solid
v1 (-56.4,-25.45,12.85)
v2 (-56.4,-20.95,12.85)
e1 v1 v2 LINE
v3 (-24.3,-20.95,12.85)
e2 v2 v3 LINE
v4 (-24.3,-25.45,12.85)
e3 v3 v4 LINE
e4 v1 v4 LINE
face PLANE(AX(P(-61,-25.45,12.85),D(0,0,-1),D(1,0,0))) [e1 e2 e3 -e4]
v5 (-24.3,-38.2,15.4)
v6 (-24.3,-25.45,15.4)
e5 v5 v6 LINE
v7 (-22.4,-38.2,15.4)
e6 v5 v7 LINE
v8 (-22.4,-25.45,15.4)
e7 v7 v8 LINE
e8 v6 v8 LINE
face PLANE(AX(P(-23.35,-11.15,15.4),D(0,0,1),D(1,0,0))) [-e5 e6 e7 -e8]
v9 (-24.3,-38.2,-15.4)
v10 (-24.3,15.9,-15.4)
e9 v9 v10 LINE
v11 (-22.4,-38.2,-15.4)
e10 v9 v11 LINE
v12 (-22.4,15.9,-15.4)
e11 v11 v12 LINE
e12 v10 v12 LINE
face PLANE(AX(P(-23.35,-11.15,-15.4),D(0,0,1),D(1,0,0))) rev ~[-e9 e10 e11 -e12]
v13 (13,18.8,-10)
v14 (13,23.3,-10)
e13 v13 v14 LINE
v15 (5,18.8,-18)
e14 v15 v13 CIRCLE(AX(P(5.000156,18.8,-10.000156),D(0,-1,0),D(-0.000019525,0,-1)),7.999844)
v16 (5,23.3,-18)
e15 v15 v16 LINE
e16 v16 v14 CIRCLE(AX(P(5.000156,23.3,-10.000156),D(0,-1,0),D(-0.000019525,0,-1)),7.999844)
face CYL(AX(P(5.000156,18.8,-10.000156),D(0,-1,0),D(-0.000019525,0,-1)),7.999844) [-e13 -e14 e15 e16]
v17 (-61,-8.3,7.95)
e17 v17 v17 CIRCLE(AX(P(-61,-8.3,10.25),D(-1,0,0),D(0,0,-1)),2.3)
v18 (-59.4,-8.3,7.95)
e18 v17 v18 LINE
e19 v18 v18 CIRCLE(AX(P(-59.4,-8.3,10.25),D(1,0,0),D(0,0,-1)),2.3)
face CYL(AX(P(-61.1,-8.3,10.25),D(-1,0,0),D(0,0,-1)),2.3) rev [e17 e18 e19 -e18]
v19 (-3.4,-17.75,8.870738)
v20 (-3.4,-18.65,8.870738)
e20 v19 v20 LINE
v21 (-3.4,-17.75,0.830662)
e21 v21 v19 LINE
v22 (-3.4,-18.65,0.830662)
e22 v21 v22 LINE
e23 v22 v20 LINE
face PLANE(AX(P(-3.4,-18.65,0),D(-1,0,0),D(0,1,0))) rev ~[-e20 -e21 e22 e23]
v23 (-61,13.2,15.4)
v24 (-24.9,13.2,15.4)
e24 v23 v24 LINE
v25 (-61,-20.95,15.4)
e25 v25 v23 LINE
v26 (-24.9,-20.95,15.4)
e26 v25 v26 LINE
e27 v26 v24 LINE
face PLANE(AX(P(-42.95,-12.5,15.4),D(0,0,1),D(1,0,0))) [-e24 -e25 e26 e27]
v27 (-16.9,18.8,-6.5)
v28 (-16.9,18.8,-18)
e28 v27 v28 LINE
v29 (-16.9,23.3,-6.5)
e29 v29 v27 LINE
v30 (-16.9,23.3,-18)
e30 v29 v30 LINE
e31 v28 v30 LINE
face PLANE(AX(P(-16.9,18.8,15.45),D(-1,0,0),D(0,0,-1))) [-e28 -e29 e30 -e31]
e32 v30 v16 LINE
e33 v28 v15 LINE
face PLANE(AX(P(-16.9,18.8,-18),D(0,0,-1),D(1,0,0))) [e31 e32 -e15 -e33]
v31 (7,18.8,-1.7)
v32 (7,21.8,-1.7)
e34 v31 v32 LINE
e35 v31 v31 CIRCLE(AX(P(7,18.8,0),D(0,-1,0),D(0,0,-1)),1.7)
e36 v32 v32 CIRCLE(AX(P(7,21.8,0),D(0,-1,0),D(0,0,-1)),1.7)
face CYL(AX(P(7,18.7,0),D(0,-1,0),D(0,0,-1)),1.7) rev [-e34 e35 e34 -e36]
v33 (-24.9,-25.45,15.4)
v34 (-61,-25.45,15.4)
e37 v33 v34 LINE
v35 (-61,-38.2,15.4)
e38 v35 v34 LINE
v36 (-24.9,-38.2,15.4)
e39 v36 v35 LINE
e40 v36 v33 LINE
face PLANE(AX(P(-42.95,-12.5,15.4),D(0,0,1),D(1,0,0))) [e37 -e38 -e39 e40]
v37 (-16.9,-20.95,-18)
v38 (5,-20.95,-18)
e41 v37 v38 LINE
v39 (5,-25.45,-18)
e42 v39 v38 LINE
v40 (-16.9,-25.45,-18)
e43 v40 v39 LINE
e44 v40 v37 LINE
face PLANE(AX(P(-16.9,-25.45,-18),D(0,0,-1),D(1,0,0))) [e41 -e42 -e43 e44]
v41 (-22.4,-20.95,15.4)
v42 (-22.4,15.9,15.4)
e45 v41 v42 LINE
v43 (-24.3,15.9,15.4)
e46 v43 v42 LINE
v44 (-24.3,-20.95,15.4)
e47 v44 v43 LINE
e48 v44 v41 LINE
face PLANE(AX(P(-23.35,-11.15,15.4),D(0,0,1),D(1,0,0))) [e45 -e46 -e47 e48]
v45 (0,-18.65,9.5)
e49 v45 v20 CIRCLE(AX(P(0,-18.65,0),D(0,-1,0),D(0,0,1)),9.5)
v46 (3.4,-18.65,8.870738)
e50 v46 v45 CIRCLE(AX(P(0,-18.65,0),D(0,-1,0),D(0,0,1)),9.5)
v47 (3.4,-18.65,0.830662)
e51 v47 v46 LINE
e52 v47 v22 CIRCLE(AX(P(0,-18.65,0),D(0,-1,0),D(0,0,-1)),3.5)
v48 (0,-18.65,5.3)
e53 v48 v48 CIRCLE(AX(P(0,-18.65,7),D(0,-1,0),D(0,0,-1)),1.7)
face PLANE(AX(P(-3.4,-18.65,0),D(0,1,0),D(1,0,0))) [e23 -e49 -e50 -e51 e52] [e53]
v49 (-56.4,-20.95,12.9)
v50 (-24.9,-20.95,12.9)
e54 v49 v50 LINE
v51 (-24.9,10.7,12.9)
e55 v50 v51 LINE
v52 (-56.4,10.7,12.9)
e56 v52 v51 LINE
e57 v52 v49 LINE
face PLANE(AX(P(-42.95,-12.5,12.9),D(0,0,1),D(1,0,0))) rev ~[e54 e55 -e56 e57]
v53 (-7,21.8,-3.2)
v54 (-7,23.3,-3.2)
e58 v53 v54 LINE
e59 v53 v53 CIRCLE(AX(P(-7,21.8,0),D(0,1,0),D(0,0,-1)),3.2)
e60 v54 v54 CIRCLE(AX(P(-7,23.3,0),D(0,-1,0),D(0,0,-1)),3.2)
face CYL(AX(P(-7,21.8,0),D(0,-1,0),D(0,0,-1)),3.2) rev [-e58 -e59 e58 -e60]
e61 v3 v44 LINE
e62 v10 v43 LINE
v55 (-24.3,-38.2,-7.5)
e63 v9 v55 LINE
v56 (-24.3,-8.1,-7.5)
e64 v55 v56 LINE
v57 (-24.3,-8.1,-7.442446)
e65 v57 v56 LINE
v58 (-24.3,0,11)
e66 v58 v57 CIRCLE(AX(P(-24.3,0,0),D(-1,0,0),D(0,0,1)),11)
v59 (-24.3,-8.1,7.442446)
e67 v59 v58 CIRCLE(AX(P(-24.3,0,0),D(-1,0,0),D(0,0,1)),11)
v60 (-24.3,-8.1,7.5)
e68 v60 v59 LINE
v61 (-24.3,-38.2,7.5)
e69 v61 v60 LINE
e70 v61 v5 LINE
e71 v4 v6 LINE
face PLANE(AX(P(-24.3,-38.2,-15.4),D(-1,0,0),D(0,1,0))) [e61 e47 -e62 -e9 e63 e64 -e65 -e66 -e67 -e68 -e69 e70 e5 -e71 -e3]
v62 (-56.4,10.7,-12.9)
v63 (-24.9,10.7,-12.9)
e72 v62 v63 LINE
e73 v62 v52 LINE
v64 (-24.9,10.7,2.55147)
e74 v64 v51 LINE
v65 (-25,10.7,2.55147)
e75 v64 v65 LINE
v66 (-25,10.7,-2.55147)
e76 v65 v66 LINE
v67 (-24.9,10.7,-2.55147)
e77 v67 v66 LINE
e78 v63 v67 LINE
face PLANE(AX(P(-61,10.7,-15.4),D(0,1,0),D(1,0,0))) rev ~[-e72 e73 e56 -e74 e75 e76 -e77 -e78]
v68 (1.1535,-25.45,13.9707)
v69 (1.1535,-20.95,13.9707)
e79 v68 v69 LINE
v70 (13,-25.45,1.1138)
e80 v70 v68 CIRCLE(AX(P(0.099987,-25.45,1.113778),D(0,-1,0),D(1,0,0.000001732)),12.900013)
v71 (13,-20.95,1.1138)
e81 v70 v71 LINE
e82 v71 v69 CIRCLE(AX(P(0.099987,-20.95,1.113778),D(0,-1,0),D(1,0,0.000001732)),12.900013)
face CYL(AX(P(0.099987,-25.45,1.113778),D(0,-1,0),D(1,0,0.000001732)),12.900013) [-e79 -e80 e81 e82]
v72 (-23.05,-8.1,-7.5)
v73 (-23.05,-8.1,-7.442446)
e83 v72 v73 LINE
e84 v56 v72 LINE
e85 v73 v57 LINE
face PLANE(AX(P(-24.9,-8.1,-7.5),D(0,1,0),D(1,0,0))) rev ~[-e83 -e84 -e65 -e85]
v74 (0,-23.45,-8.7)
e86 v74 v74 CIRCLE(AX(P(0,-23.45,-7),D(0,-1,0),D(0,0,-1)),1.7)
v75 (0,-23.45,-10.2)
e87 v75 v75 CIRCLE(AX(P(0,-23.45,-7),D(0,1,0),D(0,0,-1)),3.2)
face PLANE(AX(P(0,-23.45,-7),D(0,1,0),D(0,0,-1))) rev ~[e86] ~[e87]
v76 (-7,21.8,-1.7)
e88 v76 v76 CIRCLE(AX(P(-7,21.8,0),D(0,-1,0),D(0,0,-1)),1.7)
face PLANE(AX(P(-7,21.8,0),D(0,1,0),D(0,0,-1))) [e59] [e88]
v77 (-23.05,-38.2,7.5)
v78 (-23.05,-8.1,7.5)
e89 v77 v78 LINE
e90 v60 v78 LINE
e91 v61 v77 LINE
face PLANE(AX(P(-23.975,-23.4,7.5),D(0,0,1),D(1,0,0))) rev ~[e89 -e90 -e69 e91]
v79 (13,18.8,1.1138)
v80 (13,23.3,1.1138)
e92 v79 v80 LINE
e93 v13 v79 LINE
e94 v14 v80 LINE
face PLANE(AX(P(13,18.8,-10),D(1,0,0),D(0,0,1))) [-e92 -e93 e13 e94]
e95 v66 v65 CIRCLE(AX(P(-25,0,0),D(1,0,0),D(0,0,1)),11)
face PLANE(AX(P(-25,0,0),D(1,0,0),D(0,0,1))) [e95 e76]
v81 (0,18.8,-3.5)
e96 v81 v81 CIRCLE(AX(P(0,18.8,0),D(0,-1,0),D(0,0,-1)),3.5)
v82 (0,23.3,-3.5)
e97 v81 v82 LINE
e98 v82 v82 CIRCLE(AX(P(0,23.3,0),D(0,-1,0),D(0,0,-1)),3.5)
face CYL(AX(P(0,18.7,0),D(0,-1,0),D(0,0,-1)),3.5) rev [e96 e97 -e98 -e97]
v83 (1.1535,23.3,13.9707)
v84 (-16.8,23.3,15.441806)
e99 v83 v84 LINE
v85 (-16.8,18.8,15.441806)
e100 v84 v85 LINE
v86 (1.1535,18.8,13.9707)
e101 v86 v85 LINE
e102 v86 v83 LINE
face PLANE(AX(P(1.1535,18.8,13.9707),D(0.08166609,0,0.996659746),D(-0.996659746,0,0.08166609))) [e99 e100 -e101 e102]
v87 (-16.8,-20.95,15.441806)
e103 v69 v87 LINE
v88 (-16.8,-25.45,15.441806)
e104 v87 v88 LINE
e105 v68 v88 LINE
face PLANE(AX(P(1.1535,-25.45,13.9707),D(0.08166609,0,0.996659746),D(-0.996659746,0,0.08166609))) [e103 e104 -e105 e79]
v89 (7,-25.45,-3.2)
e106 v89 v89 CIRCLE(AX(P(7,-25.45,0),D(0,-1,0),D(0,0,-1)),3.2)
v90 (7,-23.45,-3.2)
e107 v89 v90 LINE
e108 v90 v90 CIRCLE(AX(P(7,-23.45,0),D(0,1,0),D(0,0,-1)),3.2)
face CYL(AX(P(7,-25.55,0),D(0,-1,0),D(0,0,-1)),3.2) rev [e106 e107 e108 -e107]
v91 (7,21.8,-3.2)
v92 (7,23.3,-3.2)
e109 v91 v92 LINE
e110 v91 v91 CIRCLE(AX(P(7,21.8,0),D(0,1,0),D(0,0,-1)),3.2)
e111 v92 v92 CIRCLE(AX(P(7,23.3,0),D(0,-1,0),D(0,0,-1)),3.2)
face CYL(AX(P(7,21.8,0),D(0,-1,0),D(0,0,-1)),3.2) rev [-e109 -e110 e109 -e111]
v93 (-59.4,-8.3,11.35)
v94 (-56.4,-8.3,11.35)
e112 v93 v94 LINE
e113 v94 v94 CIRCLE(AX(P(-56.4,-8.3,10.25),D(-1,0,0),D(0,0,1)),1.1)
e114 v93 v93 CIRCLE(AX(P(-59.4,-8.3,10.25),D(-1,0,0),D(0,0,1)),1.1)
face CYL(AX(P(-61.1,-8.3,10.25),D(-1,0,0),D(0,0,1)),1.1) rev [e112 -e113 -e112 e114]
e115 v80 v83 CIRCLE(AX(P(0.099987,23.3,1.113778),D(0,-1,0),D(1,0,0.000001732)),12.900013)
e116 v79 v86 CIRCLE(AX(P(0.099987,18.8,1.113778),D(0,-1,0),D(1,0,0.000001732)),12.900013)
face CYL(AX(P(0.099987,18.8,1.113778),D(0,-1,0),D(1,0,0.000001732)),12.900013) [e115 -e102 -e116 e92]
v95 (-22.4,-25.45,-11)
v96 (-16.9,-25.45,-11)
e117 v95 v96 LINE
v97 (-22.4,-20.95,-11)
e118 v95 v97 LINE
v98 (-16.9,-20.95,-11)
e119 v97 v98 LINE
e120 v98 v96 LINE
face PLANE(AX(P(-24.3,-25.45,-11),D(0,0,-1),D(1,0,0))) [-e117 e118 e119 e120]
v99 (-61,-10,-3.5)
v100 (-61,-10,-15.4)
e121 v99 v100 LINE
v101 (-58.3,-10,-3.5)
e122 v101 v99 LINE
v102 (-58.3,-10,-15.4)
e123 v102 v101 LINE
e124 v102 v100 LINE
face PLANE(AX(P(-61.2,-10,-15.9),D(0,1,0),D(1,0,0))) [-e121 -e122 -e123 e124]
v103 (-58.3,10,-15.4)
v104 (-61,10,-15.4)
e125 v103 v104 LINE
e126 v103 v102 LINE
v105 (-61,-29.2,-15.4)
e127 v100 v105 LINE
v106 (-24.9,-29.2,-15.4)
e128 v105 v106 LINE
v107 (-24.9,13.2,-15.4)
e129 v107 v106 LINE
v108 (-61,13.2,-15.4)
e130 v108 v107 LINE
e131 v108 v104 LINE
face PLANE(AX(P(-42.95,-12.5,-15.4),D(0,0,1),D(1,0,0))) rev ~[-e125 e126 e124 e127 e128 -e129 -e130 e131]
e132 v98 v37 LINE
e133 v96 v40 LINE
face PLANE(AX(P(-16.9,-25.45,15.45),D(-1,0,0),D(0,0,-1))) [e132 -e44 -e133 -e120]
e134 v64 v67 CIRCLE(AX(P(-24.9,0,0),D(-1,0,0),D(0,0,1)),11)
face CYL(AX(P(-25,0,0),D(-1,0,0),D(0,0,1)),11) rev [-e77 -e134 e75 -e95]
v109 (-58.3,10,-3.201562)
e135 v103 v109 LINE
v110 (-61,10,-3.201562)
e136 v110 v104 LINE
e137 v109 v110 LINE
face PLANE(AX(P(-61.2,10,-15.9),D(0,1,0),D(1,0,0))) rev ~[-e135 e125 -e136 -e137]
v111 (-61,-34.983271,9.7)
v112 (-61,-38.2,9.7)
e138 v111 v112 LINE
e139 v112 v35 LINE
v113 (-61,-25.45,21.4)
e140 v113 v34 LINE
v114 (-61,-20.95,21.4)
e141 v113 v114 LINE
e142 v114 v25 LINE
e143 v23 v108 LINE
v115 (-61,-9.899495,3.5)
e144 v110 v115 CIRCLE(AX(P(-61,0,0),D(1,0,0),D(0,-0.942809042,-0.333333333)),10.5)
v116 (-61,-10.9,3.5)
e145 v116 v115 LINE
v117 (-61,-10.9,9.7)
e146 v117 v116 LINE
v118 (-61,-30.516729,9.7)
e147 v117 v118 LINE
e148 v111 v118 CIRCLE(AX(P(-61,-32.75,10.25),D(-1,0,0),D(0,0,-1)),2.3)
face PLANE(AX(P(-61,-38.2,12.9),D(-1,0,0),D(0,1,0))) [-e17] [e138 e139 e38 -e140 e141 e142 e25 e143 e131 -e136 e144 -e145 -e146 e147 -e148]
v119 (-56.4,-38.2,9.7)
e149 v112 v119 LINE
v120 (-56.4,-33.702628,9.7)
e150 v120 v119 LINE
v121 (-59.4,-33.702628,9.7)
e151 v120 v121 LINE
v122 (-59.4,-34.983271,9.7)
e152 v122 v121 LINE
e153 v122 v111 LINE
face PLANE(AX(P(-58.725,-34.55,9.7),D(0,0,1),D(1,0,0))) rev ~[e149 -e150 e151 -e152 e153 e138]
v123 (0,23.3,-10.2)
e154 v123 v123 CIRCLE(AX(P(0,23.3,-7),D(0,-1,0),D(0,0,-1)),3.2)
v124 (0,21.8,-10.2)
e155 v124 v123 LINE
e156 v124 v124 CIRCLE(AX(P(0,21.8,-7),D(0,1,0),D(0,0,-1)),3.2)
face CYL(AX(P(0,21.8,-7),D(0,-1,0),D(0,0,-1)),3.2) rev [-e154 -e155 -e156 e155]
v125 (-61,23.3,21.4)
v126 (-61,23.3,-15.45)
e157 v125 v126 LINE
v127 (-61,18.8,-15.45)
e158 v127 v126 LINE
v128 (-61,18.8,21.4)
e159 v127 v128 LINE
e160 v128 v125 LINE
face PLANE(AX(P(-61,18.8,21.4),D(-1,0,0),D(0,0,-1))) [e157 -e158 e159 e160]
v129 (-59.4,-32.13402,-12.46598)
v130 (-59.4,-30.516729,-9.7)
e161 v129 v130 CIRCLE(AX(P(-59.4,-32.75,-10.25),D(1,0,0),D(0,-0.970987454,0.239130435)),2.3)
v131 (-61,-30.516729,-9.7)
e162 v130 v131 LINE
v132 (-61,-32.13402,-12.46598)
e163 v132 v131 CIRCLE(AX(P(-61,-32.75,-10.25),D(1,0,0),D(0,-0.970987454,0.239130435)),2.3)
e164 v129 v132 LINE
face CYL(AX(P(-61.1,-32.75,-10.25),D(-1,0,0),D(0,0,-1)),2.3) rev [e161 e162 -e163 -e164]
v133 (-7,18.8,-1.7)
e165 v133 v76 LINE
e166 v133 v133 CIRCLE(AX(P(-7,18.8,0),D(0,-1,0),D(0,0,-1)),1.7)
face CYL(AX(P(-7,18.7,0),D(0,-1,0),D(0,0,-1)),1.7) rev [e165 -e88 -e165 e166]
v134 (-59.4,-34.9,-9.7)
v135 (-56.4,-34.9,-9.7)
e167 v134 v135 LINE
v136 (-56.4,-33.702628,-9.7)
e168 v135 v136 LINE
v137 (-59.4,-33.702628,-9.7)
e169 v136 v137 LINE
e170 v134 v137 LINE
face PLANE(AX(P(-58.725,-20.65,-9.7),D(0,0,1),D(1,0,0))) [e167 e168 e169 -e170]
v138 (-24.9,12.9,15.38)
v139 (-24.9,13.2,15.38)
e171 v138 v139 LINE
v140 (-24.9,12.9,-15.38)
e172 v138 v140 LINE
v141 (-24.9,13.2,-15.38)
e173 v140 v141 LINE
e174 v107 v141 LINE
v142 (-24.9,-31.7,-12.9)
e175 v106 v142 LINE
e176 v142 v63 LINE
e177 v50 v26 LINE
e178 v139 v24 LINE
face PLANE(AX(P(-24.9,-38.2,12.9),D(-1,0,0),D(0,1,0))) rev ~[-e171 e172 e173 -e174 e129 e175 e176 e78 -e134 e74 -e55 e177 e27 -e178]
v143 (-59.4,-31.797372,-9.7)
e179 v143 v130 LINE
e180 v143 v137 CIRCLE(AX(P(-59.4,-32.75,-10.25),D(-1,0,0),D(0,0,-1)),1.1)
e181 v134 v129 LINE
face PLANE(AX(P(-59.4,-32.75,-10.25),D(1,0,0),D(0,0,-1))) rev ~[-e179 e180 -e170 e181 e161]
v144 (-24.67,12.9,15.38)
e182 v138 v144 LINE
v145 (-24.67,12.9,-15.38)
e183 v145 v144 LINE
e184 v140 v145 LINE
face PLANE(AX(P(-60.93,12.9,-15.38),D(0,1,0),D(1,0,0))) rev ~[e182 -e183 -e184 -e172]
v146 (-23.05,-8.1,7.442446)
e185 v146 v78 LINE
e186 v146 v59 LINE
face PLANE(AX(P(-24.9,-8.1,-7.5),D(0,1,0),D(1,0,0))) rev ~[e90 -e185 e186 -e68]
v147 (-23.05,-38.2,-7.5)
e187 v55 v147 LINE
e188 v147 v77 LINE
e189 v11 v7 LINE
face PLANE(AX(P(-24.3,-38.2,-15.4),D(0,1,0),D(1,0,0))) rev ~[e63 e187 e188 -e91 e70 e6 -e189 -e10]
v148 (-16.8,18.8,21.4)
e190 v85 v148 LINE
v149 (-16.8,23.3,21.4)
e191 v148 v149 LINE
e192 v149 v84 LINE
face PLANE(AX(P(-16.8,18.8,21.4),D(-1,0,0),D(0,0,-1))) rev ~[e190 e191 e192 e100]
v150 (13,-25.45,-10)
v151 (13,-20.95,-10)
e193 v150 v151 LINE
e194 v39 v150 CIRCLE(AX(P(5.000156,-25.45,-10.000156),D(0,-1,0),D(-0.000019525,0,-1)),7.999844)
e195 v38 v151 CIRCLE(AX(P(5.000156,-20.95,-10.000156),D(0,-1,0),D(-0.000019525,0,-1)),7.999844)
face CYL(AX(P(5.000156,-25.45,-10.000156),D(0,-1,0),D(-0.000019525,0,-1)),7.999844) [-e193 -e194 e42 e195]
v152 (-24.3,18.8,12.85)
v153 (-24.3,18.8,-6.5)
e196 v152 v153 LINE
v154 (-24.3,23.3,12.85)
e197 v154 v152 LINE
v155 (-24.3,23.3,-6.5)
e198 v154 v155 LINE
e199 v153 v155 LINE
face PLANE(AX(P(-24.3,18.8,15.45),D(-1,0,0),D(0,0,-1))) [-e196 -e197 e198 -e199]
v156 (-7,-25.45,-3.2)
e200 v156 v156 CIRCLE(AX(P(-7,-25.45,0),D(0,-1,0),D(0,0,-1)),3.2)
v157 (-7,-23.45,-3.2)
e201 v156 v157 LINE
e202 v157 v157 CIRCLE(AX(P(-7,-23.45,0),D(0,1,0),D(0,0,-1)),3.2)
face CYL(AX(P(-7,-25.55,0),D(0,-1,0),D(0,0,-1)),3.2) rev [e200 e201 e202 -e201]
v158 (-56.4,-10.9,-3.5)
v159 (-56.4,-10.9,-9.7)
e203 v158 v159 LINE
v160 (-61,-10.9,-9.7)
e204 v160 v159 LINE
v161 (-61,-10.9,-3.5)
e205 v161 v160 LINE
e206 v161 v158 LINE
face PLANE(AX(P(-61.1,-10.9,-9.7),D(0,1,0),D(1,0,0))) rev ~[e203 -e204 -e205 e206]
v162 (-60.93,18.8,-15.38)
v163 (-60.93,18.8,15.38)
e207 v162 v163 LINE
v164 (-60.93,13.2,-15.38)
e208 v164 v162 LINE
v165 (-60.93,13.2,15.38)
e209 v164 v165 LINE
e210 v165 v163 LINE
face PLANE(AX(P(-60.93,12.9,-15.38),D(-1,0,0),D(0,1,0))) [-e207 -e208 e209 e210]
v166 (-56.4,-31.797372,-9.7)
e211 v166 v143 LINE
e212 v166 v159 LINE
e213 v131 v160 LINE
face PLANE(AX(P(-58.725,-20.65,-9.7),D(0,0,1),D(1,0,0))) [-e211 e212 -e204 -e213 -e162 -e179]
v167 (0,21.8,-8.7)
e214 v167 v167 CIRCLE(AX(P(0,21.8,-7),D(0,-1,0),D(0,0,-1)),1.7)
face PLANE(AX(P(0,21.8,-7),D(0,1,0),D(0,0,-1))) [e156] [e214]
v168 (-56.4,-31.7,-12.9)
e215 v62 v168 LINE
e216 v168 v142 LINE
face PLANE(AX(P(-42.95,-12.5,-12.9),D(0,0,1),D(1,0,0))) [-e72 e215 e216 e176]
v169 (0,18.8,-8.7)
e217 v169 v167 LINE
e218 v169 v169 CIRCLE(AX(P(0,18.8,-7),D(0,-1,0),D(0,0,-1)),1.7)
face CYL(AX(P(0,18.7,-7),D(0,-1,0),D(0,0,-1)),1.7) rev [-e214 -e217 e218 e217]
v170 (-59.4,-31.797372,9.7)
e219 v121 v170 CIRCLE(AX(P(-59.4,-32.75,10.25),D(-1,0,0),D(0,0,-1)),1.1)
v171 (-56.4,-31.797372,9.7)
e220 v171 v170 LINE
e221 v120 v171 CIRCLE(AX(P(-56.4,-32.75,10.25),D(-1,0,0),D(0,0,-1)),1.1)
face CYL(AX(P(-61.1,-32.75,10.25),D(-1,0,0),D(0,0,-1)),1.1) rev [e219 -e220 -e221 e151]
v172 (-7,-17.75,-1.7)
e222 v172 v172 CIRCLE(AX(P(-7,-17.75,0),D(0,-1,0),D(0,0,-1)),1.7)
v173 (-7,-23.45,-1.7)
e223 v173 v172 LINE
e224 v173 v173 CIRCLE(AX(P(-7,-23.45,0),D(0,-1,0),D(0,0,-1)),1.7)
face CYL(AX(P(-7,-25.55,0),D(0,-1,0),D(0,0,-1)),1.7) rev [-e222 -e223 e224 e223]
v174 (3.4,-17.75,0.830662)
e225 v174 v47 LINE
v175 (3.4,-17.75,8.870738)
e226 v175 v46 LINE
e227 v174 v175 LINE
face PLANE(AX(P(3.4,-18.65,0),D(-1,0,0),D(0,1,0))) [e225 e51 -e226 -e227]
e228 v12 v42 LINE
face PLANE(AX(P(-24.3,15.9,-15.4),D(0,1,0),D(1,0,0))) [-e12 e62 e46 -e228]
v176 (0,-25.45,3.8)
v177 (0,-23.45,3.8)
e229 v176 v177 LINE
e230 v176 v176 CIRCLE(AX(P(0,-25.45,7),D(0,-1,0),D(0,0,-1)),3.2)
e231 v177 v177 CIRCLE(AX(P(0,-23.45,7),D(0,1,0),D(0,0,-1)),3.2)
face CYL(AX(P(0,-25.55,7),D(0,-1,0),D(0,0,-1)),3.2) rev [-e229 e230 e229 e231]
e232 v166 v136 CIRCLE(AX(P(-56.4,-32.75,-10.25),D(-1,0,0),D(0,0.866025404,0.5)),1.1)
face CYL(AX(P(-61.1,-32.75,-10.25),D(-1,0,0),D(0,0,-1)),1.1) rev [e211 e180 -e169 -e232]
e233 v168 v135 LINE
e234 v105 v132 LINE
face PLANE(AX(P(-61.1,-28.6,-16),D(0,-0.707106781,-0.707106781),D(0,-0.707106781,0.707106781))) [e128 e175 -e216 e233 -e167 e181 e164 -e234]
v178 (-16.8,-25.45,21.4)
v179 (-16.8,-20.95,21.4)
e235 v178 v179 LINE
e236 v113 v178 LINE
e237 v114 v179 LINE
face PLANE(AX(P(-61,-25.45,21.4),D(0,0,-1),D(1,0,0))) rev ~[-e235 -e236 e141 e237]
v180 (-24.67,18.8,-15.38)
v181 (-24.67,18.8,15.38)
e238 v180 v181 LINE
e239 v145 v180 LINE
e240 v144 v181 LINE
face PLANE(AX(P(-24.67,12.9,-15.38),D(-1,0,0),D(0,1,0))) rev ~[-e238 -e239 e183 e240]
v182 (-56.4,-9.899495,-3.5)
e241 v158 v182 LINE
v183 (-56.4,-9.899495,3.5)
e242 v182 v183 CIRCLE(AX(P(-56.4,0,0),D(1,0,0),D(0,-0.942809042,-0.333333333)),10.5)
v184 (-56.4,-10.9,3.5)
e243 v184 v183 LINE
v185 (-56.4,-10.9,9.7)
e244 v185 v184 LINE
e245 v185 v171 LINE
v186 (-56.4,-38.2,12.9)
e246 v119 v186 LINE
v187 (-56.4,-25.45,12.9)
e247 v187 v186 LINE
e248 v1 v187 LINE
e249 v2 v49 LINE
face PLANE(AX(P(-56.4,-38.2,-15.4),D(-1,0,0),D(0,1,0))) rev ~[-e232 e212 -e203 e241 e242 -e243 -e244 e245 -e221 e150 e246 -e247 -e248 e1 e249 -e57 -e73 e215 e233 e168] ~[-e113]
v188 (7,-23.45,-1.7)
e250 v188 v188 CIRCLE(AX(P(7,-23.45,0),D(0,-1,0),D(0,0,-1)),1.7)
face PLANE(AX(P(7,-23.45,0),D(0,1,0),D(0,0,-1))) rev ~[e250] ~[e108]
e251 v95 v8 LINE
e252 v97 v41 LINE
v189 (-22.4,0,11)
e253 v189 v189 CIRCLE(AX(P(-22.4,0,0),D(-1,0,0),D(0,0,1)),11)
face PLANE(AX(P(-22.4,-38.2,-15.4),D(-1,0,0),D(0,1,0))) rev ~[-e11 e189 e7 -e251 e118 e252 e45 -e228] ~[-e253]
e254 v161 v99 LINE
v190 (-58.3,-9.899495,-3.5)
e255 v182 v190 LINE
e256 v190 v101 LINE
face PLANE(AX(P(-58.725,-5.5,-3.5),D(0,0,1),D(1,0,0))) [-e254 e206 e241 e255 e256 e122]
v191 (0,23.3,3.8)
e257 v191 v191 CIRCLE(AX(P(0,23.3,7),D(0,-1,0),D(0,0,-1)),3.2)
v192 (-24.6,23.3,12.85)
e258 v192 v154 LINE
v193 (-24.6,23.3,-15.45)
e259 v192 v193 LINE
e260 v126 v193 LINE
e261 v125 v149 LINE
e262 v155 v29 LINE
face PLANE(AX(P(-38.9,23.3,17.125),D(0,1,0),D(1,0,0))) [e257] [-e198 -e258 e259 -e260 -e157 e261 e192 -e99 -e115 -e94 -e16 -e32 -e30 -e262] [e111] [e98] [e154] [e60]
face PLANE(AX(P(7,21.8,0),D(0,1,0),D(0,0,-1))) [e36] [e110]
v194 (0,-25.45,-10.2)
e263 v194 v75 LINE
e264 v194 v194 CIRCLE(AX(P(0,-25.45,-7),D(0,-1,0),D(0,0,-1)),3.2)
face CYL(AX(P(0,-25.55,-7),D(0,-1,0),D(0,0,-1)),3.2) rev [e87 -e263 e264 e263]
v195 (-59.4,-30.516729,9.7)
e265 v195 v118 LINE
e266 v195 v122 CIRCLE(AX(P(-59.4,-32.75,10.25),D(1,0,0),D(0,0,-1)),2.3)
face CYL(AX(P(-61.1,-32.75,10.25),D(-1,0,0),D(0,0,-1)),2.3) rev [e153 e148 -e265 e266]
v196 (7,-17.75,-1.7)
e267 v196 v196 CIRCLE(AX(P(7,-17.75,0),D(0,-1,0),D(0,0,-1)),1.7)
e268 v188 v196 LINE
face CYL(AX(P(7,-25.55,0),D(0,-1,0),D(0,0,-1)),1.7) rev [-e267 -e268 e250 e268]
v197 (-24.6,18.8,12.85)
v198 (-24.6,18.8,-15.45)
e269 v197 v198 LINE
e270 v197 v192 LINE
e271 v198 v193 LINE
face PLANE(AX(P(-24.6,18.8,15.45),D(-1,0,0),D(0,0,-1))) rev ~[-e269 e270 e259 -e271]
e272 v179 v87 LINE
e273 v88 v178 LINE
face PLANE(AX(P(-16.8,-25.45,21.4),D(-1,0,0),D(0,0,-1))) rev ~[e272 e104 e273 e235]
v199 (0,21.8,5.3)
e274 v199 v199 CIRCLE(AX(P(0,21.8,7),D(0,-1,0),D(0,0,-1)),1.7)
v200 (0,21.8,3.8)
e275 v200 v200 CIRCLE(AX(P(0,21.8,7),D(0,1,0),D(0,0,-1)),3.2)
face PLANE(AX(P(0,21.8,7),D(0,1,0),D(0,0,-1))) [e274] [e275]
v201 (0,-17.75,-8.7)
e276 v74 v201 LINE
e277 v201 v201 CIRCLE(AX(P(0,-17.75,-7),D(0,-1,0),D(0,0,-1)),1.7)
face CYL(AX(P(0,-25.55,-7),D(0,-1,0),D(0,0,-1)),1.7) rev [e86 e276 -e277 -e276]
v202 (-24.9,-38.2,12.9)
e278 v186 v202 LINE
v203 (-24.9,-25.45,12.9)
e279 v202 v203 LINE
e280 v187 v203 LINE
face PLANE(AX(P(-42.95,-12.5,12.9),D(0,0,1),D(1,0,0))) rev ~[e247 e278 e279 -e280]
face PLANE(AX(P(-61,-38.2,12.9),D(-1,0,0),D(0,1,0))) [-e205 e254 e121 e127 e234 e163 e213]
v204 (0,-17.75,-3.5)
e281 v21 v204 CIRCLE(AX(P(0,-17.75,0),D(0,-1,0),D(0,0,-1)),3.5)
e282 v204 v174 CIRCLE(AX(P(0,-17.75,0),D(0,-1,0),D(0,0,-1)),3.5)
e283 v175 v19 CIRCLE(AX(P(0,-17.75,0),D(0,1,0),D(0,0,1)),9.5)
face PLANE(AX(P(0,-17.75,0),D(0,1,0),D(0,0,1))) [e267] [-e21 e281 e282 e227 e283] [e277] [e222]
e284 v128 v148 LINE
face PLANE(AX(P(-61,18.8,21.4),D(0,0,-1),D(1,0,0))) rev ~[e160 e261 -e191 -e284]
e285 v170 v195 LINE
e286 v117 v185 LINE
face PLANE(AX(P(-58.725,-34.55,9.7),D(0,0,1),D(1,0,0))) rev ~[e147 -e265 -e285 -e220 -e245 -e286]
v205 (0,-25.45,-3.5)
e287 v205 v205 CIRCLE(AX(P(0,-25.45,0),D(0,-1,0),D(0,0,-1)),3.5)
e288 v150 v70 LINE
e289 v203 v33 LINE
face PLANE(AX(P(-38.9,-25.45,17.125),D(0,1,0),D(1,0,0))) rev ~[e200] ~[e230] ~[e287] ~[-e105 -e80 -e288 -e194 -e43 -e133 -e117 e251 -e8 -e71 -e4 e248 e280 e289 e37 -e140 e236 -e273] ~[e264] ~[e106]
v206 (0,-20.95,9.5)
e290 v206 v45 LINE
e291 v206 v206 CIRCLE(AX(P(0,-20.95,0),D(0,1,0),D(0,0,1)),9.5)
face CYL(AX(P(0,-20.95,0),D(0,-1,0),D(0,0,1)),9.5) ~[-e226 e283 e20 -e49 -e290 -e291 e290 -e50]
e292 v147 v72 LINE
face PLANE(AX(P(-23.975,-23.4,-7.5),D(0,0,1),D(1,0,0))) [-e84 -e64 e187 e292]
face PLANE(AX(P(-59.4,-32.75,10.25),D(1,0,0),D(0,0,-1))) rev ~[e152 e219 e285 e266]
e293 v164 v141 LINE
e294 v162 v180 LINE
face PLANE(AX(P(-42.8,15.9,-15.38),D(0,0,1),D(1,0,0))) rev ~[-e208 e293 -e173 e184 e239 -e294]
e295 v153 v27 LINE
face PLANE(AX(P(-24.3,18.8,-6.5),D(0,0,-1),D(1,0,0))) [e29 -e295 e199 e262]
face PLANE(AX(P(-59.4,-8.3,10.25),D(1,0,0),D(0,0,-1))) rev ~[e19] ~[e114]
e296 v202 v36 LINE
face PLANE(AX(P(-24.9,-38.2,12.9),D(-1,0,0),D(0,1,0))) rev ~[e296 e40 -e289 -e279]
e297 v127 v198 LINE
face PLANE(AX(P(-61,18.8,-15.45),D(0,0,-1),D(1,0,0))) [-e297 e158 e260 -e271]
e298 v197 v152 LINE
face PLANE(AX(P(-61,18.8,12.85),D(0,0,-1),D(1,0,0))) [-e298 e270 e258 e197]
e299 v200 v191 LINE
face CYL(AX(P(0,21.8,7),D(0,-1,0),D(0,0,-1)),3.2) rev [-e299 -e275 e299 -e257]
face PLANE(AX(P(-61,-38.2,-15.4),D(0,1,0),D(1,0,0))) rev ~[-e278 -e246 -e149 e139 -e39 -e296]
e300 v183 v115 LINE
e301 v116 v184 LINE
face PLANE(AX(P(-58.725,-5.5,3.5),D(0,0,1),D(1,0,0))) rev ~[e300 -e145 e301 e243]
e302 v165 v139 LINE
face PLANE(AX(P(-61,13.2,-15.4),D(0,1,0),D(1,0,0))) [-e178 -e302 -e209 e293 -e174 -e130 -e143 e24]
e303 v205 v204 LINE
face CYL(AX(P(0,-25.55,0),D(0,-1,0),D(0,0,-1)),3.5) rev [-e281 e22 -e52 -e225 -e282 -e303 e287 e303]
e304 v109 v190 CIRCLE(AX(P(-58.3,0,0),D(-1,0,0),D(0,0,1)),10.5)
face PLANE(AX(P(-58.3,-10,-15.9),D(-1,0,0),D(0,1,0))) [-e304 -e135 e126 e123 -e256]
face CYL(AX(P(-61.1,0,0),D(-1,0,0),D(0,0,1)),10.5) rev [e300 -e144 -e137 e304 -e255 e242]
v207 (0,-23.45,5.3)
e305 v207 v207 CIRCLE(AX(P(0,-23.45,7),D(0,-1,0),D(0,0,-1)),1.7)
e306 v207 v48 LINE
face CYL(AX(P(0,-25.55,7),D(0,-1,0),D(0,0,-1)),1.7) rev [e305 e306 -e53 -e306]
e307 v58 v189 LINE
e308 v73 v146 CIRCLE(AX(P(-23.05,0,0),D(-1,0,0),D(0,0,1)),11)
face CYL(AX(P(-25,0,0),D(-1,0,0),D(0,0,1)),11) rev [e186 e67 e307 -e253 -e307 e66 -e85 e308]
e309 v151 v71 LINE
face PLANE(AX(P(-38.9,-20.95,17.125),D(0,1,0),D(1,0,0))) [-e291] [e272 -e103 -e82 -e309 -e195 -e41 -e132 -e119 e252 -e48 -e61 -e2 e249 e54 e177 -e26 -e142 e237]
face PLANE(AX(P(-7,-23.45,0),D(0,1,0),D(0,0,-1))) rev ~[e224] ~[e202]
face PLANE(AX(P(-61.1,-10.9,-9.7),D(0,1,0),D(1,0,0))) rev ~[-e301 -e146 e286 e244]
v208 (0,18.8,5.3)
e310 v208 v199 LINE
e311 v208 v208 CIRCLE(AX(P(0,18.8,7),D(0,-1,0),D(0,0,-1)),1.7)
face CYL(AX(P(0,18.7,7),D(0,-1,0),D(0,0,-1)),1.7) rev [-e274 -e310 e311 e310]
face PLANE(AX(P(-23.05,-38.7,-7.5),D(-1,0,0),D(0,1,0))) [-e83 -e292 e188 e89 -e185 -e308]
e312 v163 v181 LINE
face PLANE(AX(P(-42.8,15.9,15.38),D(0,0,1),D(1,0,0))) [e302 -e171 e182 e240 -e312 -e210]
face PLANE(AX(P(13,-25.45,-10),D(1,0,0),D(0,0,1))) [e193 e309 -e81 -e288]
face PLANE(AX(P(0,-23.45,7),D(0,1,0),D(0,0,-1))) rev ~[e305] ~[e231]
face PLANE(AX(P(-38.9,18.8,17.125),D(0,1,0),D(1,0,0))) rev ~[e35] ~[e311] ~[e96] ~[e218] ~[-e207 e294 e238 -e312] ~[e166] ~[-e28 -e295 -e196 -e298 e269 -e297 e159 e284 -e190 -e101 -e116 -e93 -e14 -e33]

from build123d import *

# Parameters (mm, degrees)
BOSS_1_DEPTH    = 4.5
S_CYL2_R        = 9.5
BOSS_2_DEPTH    = 3.2
BOSS_3_DEPTH    = 4.5
S_PRISM4_W      = 7.5
S_PRISM4_H      = 21.95
BOSS_4_DEPTH    = 4.5
S_PRISM5_W      = 44.2
S_PRISM5_H      = 8.55
BOSS_5_DEPTH    = 4.5
S_PRISM6_W      = 36.4
S_PRISM6_H      = 30.9
BOSS_6_DEPTH    = 4.5
S_PRISM7_W      = 7.5
S_PRISM7_H      = 26.45
BOSS_7_DEPTH    = 4.5
S_PRISM8_W      = 44.2
S_PRISM8_H      = 8.55
BOSS_8_DEPTH    = 4.5
S_BOX9_W        = 36.1
S_BOX9_H        = 2.5
BOSS_9_DEPTH    = 30.8
S_BOX10_W       = 36.1
S_BOX10_H       = 51.4
BOSS_10_DEPTH   = 2.5
S_BOX11_W       = 36.1
S_BOX11_H       = 51.4
BOSS_11_DEPTH   = 2.5
S_BOX12_W       = 4.6
S_BOX12_H       = 51.4
BOSS_12_DEPTH   = 30.8
S_BOX13_W       = 1.9
S_BOX13_H       = 54.1
BOSS_13_DEPTH   = 30.8
S_BOX14_W       = 36.26
S_BOX14_H       = 6
BOSS_14_DEPTH   = 30.76
S_HOLE15_R      = 3.5
HOLE_15_DEPTH   = 4.7
S_HOLE16_R      = 1.7
HOLE_16_DEPTH   = 4.7
S_HOLE17_R      = 1.7
HOLE_17_DEPTH   = 4.7
S_HOLE18_R      = 1.7
HOLE_18_DEPTH   = 4.7
S_HOLE19_R      = 1.7
HOLE_19_DEPTH   = 4.7
S_HOLE20_R      = 3.2
HOLE_20_DEPTH   = 1.6
S_HOLE21_R      = 3.2
HOLE_21_DEPTH   = 1.6
S_HOLE22_R      = 3.2
HOLE_22_DEPTH   = 1.6
S_HOLE23_R      = 3.2
HOLE_23_DEPTH   = 1.6
S_HOLE24_R      = 3.5
HOLE_24_DEPTH   = 7.9
S_HOLE25_R      = 1.7
HOLE_25_DEPTH   = 7.9
S_HOLE26_R      = 1.7
HOLE_26_DEPTH   = 7.9
S_HOLE27_R      = 1.7
HOLE_27_DEPTH   = 7.9
S_HOLE28_R      = 1.7
HOLE_28_DEPTH   = 7.9
S_HOLE29_R      = 3.2
HOLE_29_DEPTH   = 2.1
S_HOLE30_R      = 3.2
HOLE_30_DEPTH   = 2.1
S_HOLE31_R      = 3.2
HOLE_31_DEPTH   = 2.1
S_HOLE32_R      = 3.2
HOLE_32_DEPTH   = 2.1
S_CUT33_W       = 6.8
S_CUT33_H       = 1
POCKET_33_DEPTH = 10
S_HOLE34_R      = 10.5
HOLE_34_DEPTH   = 4.8
S_CUT35_W       = 4.75
S_CUT35_H       = 19.5
POCKET_35_DEPTH = 19.4
S_CUT36_W       = 4.75
S_CUT36_H       = 8.3
POCKET_36_DEPTH = 19.4
S_CUT37_W       = 4.75
S_CUT37_H       = 11
POCKET_37_DEPTH = 7
S_CUT38_W       = 2.9
S_CUT38_H       = 20
POCKET_38_DEPTH = 15.9
S_HOLE39_R      = 1.1
HOLE_39_DEPTH   = 4.8
S_HOLE40_R      = 2.3
HOLE_40_DEPTH   = 1.7
S_HOLE41_R      = 1.1
HOLE_41_DEPTH   = 4.8
S_HOLE42_R      = 2.3
HOLE_42_DEPTH   = 1.7
S_HOLE43_R      = 1.1
HOLE_43_DEPTH   = 4.8
S_HOLE44_R      = 2.3
HOLE_44_DEPTH   = 1.7
S_HOLE45_R      = 11
HOLE_45_DEPTH   = 2.7
S_CUT46_W       = 1.85
S_CUT46_H       = 30.6
POCKET_46_DEPTH = 15
CUT_47_DEPTH    = 36.3


with BuildPart() as part:
    # S_prism1 → Boss_1 (new body)
    with BuildSketch(Plane(origin=(0, 18.8, 0), x_dir=(1, 0, 0), z_dir=(0, 1, 0))):
        with BuildLine():
            Line((13, 10), (13, -1.1138))
            ThreePointArc((13, -1.1138), (9.586829994, -9.855067448), (1.1535, -13.9707))
            Line((1.1535, -13.9707), (-16.9, -15.45))
            Line((-16.9, -15.45), (-16.9, 18))
            Line((-16.9, 18), (5, 18))
            ThreePointArc((5, 18), (10.6569, 15.6569), (13, 10))
        make_face()
    extrude(amount=BOSS_1_DEPTH)

    # S_prism4 → Boss_4 (add)
    with BuildSketch(Plane(origin=(0, 18.8, 0), x_dir=(1, 0, 0), z_dir=(0, 1, 0))):
        with Locations((-20.55, -4.475)):
            Rectangle(S_PRISM4_W, S_PRISM4_H)
    extrude(amount=BOSS_4_DEPTH)

    # S_prism5 → Boss_5 (add)
    with BuildSketch(Plane(origin=(0, 18.8, 0), x_dir=(1, 0, 0), z_dir=(0, 1, 0))):
        with Locations((-38.9, -17.125)):
            Rectangle(S_PRISM5_W, S_PRISM5_H)
    extrude(amount=BOSS_5_DEPTH)

    # S_prism6 → Boss_6 (add)
    with BuildSketch(Plane(origin=(0, 18.8, 0), x_dir=(1, 0, 0), z_dir=(0, 1, 0))):
        with Locations((-42.8, 0)):
            Rectangle(S_PRISM6_W, S_PRISM6_H)
    extrude(amount=BOSS_6_DEPTH)



with BuildPart() as body_2:
    # S_cyl2 → Boss_2 (new body)
    with BuildSketch(Plane(origin=(0, -20.95, 0), x_dir=(1, 0, 0), z_dir=(0, 1, 0))):
        with Locations(Location((0, 0, 0), (0, 0, 270))):
            Circle(S_CYL2_R)
    extrude(amount=BOSS_2_DEPTH)

    # S_prism3 → Boss_3 (add)
    with BuildSketch(Plane(origin=(0, -25.45, 0), x_dir=(1, 0, 0), z_dir=(0, 1, 0))):
        with BuildLine():
            Line((13, 10), (13, -1.1138))
            ThreePointArc((13, -1.1138), (9.586829994, -9.855067448), (1.1535, -13.9707))
            Line((1.1535, -13.9707), (-16.9, -15.45))
            Line((-16.9, -15.45), (-16.9, 18))
            Line((-16.9, 18), (5, 18))
            ThreePointArc((5, 18), (10.6569, 15.6569), (13, 10))
        make_face()
    extrude(amount=BOSS_3_DEPTH)

    # S_prism7 → Boss_7 (add)
    with BuildSketch(Plane(origin=(0, -25.45, 0), x_dir=(1, 0, 0), z_dir=(0, 1, 0))):
        with Locations((-20.55, -2.225)):
            Rectangle(S_PRISM7_W, S_PRISM7_H)
    extrude(amount=BOSS_7_DEPTH)

    # S_prism8 → Boss_8 (add)
    with BuildSketch(Plane(origin=(0, -25.45, 0), x_dir=(1, 0, 0), z_dir=(0, 1, 0))):
        with Locations((-38.9, -17.125)):
            Rectangle(S_PRISM8_W, S_PRISM8_H)
    extrude(amount=BOSS_8_DEPTH)



with BuildPart() as body_3:
    # S_box9 → Boss_9 (new body)
    with BuildSketch(Plane.XY.offset(-15.4)):
        with Locations((-42.95, 11.95)):
            Rectangle(S_BOX9_W, S_BOX9_H)
    extrude(amount=BOSS_9_DEPTH)

    # S_box10 → Boss_10 (add)
    with BuildSketch(Plane.XY.offset(-15.4)):
        with Locations((-42.95, -12.5)):
            Rectangle(S_BOX10_W, S_BOX10_H)
    extrude(amount=BOSS_10_DEPTH)


with BuildPart() as body_2_1:
    add(body_2.part)

    add(body_3.part)  # Boss_11 merges body 3
    # S_box11 → Boss_11 (add)
    with BuildSketch(Plane.XY.offset(12.9)):
        with Locations((-42.95, -12.5)):
            Rectangle(S_BOX11_W, S_BOX11_H)
    extrude(amount=BOSS_11_DEPTH)

    # S_box12 → Boss_12 (add)
    with BuildSketch(Plane.XY.offset(-15.4)):
        with Locations((-58.7, -12.5)):
            Rectangle(S_BOX12_W, S_BOX12_H)
    extrude(amount=BOSS_12_DEPTH)

    # S_box13 → Boss_13 (add)
    with BuildSketch(Plane.XY.offset(-15.4)):
        with Locations((-23.35, -11.15)):
            Rectangle(S_BOX13_W, S_BOX13_H)
    extrude(amount=BOSS_13_DEPTH)


with BuildPart() as part_1:
    add(part.part)

    add(body_2_1.part)  # Boss_14 merges body 2
    # S_box14 → Boss_14 (add)
    with BuildSketch(Plane.XY.offset(-15.38)):
        with Locations((-42.8, 15.9)):
            Rectangle(S_BOX14_W, S_BOX14_H)
    extrude(amount=BOSS_14_DEPTH)

    # S_hole15 → Hole_15 (cut)
    with BuildSketch(Plane(origin=(0, 18.7, 0), x_dir=(1, 0, 0), z_dir=(0, 1, 0))):
        with Locations(Location((0, 0, 0), (0, 0, 90))):
            Circle(S_HOLE15_R)
    extrude(amount=HOLE_15_DEPTH, mode=Mode.SUBTRACT)

    # S_hole16 → Hole_16 (cut)
    with BuildSketch(Plane(origin=(0, 18.7, 0), x_dir=(1, 0, 0), z_dir=(0, 1, 0))):
        with Locations(Location((7, 0, 0), (0, 0, 90))):
            Circle(S_HOLE16_R)
    extrude(amount=HOLE_16_DEPTH, mode=Mode.SUBTRACT)

    # S_hole17 → Hole_17 (cut)
    with BuildSketch(Plane(origin=(0, 18.7, 0), x_dir=(1, 0, 0), z_dir=(0, 1, 0))):
        with Locations(Location((0, -7, 0), (0, 0, 90))):
            Circle(S_HOLE17_R)
    extrude(amount=HOLE_17_DEPTH, mode=Mode.SUBTRACT)

    # S_hole18 → Hole_18 (cut)
    with BuildSketch(Plane(origin=(0, 18.7, 0), x_dir=(1, 0, 0), z_dir=(0, 1, 0))):
        with Locations(Location((-7, 0, 0), (0, 0, 90))):
            Circle(S_HOLE18_R)
    extrude(amount=HOLE_18_DEPTH, mode=Mode.SUBTRACT)

    # S_hole19 → Hole_19 (cut)
    with BuildSketch(Plane(origin=(0, 18.7, 0), x_dir=(1, 0, 0), z_dir=(0, 1, 0))):
        with Locations(Location((0, 7, 0), (0, 0, 90))):
            Circle(S_HOLE19_R)
    extrude(amount=HOLE_19_DEPTH, mode=Mode.SUBTRACT)

    # S_hole20 → Hole_20 (cut)
    with BuildSketch(Plane(origin=(0, 21.8, 0), x_dir=(1, 0, 0), z_dir=(0, 1, 0))):
        with Locations(Location((7, 0, 0), (0, 0, 90))):
            Circle(S_HOLE20_R)
    extrude(amount=HOLE_20_DEPTH, mode=Mode.SUBTRACT)

    # S_hole21 → Hole_21 (cut)
    with BuildSketch(Plane(origin=(0, 21.8, 0), x_dir=(1, 0, 0), z_dir=(0, 1, 0))):
        with Locations(Location((0, -7, 0), (0, 0, 90))):
            Circle(S_HOLE21_R)
    extrude(amount=HOLE_21_DEPTH, mode=Mode.SUBTRACT)

    # S_hole22 → Hole_22 (cut)
    with BuildSketch(Plane(origin=(0, 21.8, 0), x_dir=(1, 0, 0), z_dir=(0, 1, 0))):
        with Locations(Location((-7, 0, 0), (0, 0, 90))):
            Circle(S_HOLE22_R)
    extrude(amount=HOLE_22_DEPTH, mode=Mode.SUBTRACT)

    # S_hole23 → Hole_23 (cut)
    with BuildSketch(Plane(origin=(0, 21.8, 0), x_dir=(1, 0, 0), z_dir=(0, 1, 0))):
        with Locations(Location((0, 7, 0), (0, 0, 90))):
            Circle(S_HOLE23_R)
    extrude(amount=HOLE_23_DEPTH, mode=Mode.SUBTRACT)

    # S_hole24 → Hole_24 (cut)
    with BuildSketch(Plane(origin=(0, -25.55, 0), x_dir=(1, 0, 0), z_dir=(0, 1, 0))):
        with Locations(Location((0, 0, 0), (0, 0, 90))):
            Circle(S_HOLE24_R)
    extrude(amount=HOLE_24_DEPTH, mode=Mode.SUBTRACT)

    # S_hole25 → Hole_25 (cut)
    with BuildSketch(Plane(origin=(0, -25.55, 0), x_dir=(1, 0, 0), z_dir=(0, 1, 0))):
        with Locations(Location((7, 0, 0), (0, 0, 90))):
            Circle(S_HOLE25_R)
    extrude(amount=HOLE_25_DEPTH, mode=Mode.SUBTRACT)

    # S_hole26 → Hole_26 (cut)
    with BuildSketch(Plane(origin=(0, -25.55, 0), x_dir=(1, 0, 0), z_dir=(0, 1, 0))):
        with Locations(Location((0, -7, 0), (0, 0, 90))):
            Circle(S_HOLE26_R)
    extrude(amount=HOLE_26_DEPTH, mode=Mode.SUBTRACT)

    # S_hole27 → Hole_27 (cut)
    with BuildSketch(Plane(origin=(0, -25.55, 0), x_dir=(1, 0, 0), z_dir=(0, 1, 0))):
        with Locations(Location((-7, 0, 0), (0, 0, 90))):
            Circle(S_HOLE27_R)
    extrude(amount=HOLE_27_DEPTH, mode=Mode.SUBTRACT)

    # S_hole28 → Hole_28 (cut)
    with BuildSketch(Plane(origin=(0, -25.55, 0), x_dir=(1, 0, 0), z_dir=(0, 1, 0))):
        with Locations(Location((0, 7, 0), (0, 0, 90))):
            Circle(S_HOLE28_R)
    extrude(amount=HOLE_28_DEPTH, mode=Mode.SUBTRACT)

    # S_hole29 → Hole_29 (cut)
    with BuildSketch(Plane(origin=(0, -25.55, 0), x_dir=(1, 0, 0), z_dir=(0, 1, 0))):
        with Locations(Location((7, 0, 0), (0, 0, 90))):
            Circle(S_HOLE29_R)
    extrude(amount=HOLE_29_DEPTH, mode=Mode.SUBTRACT)

    # S_hole30 → Hole_30 (cut)
    with BuildSketch(Plane(origin=(0, -25.55, 0), x_dir=(1, 0, 0), z_dir=(0, 1, 0))):
        with Locations(Location((0, -7, 0), (0, 0, 90))):
            Circle(S_HOLE30_R)
    extrude(amount=HOLE_30_DEPTH, mode=Mode.SUBTRACT)

    # S_hole31 → Hole_31 (cut)
    with BuildSketch(Plane(origin=(0, -25.55, 0), x_dir=(1, 0, 0), z_dir=(0, 1, 0))):
        with Locations(Location((-7, 0, 0), (0, 0, 90))):
            Circle(S_HOLE31_R)
    extrude(amount=HOLE_31_DEPTH, mode=Mode.SUBTRACT)

    # S_hole32 → Hole_32 (cut)
    with BuildSketch(Plane(origin=(0, -25.55, 0), x_dir=(1, 0, 0), z_dir=(0, 1, 0))):
        with Locations(Location((0, 7, 0), (0, 0, 90))):
            Circle(S_HOLE32_R)
    extrude(amount=HOLE_32_DEPTH, mode=Mode.SUBTRACT)

    # S_cut33 → Pocket_33 (cut)
    with BuildSketch(Plane.XY):
        with Locations((0, -18.15)):
            Rectangle(S_CUT33_W, S_CUT33_H)
    extrude(amount=POCKET_33_DEPTH, mode=Mode.SUBTRACT)

    # S_hole34 → Hole_34 (cut)
    with BuildSketch(Plane(origin=(-61.1, 0, 0), x_dir=(0, 0, -1), z_dir=(1, 0, 0))):
        with Locations(Location((0, 0, 0), (0, 0, 180))):
            Circle(S_HOLE34_R)
    extrude(amount=HOLE_34_DEPTH, mode=Mode.SUBTRACT)

    # S_cut35 → Pocket_35 (cut)
    with BuildSketch(Plane.XY.offset(-9.7)):
        with Locations((-58.725, -20.65)):
            Rectangle(S_CUT35_W, S_CUT35_H)
    extrude(amount=POCKET_35_DEPTH, mode=Mode.SUBTRACT)

    # S_cut36 → Pocket_36 (cut)
    with BuildSketch(Plane.XY.offset(-9.7)):
        with Locations((-58.725, -34.55)):
            Rectangle(S_CUT36_W, S_CUT36_H)
    extrude(amount=POCKET_36_DEPTH, mode=Mode.SUBTRACT)

    # S_cut37 → Pocket_37 (cut)
    with BuildSketch(Plane.XY.offset(-3.5)):
        with Locations((-58.725, -5.5)):
            Rectangle(S_CUT37_W, S_CUT37_H)
    extrude(amount=POCKET_37_DEPTH, mode=Mode.SUBTRACT)

    # S_cut38 → Pocket_38 (cut)
    with BuildSketch(Plane.XY.offset(-15.9)):
        with Locations((-59.75, 0)):
            Rectangle(S_CUT38_W, S_CUT38_H)
    extrude(amount=POCKET_38_DEPTH, mode=Mode.SUBTRACT)

    # S_hole39 → Hole_39 (cut)
    with BuildSketch(Plane(origin=(-61.1, 0, 0), x_dir=(0, 0, -1), z_dir=(1, 0, 0))):
        with Locations(Location((-10.25, -8.3, 0), (0, 0, 180))):
            Circle(S_HOLE39_R)
    extrude(amount=HOLE_39_DEPTH, mode=Mode.SUBTRACT)

    # S_hole40 → Hole_40 (cut)
    with BuildSketch(Plane(origin=(-61.1, 0, 0), x_dir=(0, 0, -1), z_dir=(1, 0, 0))):
        with Locations((-10.25, -8.3)):
            Circle(S_HOLE40_R)
    extrude(amount=HOLE_40_DEPTH, mode=Mode.SUBTRACT)

    # S_hole41 → Hole_41 (cut)
    with BuildSketch(Plane(origin=(-61.1, 0, 0), x_dir=(0, 0, -1), z_dir=(1, 0, 0))):
        with Locations((10.25, -32.75)):
            Circle(S_HOLE41_R)
    extrude(amount=HOLE_41_DEPTH, mode=Mode.SUBTRACT)

    # S_hole42 → Hole_42 (cut)
    with BuildSketch(Plane(origin=(-61.1, 0, 0), x_dir=(0, 0, -1), z_dir=(1, 0, 0))):
        with Locations((10.25, -32.75)):
            Circle(S_HOLE42_R)
    extrude(amount=HOLE_42_DEPTH, mode=Mode.SUBTRACT)

    # S_hole43 → Hole_43 (cut)
    with BuildSketch(Plane(origin=(-61.1, 0, 0), x_dir=(0, 0, -1), z_dir=(1, 0, 0))):
        with Locations((-10.25, -32.75)):
            Circle(S_HOLE43_R)
    extrude(amount=HOLE_43_DEPTH, mode=Mode.SUBTRACT)

    # S_hole44 → Hole_44 (cut)
    with BuildSketch(Plane(origin=(-61.1, 0, 0), x_dir=(0, 0, -1), z_dir=(1, 0, 0))):
        with Locations((-10.25, -32.75)):
            Circle(S_HOLE44_R)
    extrude(amount=HOLE_44_DEPTH, mode=Mode.SUBTRACT)

    # S_hole45 → Hole_45 (cut)
    with BuildSketch(Plane(origin=(-25, 0, 0), x_dir=(0, 0, -1), z_dir=(1, 0, 0))):
        with Locations(Location((0, 0, 0), (0, 0, 180))):
            Circle(S_HOLE45_R)
    extrude(amount=HOLE_45_DEPTH, mode=Mode.SUBTRACT)

    # S_cut46 → Pocket_46 (cut)
    with BuildSketch(Plane.XY.offset(-7.5)):
        with Locations((-23.975, -23.4)):
            Rectangle(S_CUT46_W, S_CUT46_H)
    extrude(amount=POCKET_46_DEPTH, mode=Mode.SUBTRACT)

    # S_pcut47 → Cut_47 (cut)
    with BuildSketch(Plane(origin=(-61.1, 0, 0), x_dir=(0, 0, -1), z_dir=(1, 0, 0))):
        Polygon((16, -38.8), (16, -28.6), (5.8, -38.8), align=None)
    extrude(amount=CUT_47_DEPTH, mode=Mode.SUBTRACT)


solid = part_1.part
